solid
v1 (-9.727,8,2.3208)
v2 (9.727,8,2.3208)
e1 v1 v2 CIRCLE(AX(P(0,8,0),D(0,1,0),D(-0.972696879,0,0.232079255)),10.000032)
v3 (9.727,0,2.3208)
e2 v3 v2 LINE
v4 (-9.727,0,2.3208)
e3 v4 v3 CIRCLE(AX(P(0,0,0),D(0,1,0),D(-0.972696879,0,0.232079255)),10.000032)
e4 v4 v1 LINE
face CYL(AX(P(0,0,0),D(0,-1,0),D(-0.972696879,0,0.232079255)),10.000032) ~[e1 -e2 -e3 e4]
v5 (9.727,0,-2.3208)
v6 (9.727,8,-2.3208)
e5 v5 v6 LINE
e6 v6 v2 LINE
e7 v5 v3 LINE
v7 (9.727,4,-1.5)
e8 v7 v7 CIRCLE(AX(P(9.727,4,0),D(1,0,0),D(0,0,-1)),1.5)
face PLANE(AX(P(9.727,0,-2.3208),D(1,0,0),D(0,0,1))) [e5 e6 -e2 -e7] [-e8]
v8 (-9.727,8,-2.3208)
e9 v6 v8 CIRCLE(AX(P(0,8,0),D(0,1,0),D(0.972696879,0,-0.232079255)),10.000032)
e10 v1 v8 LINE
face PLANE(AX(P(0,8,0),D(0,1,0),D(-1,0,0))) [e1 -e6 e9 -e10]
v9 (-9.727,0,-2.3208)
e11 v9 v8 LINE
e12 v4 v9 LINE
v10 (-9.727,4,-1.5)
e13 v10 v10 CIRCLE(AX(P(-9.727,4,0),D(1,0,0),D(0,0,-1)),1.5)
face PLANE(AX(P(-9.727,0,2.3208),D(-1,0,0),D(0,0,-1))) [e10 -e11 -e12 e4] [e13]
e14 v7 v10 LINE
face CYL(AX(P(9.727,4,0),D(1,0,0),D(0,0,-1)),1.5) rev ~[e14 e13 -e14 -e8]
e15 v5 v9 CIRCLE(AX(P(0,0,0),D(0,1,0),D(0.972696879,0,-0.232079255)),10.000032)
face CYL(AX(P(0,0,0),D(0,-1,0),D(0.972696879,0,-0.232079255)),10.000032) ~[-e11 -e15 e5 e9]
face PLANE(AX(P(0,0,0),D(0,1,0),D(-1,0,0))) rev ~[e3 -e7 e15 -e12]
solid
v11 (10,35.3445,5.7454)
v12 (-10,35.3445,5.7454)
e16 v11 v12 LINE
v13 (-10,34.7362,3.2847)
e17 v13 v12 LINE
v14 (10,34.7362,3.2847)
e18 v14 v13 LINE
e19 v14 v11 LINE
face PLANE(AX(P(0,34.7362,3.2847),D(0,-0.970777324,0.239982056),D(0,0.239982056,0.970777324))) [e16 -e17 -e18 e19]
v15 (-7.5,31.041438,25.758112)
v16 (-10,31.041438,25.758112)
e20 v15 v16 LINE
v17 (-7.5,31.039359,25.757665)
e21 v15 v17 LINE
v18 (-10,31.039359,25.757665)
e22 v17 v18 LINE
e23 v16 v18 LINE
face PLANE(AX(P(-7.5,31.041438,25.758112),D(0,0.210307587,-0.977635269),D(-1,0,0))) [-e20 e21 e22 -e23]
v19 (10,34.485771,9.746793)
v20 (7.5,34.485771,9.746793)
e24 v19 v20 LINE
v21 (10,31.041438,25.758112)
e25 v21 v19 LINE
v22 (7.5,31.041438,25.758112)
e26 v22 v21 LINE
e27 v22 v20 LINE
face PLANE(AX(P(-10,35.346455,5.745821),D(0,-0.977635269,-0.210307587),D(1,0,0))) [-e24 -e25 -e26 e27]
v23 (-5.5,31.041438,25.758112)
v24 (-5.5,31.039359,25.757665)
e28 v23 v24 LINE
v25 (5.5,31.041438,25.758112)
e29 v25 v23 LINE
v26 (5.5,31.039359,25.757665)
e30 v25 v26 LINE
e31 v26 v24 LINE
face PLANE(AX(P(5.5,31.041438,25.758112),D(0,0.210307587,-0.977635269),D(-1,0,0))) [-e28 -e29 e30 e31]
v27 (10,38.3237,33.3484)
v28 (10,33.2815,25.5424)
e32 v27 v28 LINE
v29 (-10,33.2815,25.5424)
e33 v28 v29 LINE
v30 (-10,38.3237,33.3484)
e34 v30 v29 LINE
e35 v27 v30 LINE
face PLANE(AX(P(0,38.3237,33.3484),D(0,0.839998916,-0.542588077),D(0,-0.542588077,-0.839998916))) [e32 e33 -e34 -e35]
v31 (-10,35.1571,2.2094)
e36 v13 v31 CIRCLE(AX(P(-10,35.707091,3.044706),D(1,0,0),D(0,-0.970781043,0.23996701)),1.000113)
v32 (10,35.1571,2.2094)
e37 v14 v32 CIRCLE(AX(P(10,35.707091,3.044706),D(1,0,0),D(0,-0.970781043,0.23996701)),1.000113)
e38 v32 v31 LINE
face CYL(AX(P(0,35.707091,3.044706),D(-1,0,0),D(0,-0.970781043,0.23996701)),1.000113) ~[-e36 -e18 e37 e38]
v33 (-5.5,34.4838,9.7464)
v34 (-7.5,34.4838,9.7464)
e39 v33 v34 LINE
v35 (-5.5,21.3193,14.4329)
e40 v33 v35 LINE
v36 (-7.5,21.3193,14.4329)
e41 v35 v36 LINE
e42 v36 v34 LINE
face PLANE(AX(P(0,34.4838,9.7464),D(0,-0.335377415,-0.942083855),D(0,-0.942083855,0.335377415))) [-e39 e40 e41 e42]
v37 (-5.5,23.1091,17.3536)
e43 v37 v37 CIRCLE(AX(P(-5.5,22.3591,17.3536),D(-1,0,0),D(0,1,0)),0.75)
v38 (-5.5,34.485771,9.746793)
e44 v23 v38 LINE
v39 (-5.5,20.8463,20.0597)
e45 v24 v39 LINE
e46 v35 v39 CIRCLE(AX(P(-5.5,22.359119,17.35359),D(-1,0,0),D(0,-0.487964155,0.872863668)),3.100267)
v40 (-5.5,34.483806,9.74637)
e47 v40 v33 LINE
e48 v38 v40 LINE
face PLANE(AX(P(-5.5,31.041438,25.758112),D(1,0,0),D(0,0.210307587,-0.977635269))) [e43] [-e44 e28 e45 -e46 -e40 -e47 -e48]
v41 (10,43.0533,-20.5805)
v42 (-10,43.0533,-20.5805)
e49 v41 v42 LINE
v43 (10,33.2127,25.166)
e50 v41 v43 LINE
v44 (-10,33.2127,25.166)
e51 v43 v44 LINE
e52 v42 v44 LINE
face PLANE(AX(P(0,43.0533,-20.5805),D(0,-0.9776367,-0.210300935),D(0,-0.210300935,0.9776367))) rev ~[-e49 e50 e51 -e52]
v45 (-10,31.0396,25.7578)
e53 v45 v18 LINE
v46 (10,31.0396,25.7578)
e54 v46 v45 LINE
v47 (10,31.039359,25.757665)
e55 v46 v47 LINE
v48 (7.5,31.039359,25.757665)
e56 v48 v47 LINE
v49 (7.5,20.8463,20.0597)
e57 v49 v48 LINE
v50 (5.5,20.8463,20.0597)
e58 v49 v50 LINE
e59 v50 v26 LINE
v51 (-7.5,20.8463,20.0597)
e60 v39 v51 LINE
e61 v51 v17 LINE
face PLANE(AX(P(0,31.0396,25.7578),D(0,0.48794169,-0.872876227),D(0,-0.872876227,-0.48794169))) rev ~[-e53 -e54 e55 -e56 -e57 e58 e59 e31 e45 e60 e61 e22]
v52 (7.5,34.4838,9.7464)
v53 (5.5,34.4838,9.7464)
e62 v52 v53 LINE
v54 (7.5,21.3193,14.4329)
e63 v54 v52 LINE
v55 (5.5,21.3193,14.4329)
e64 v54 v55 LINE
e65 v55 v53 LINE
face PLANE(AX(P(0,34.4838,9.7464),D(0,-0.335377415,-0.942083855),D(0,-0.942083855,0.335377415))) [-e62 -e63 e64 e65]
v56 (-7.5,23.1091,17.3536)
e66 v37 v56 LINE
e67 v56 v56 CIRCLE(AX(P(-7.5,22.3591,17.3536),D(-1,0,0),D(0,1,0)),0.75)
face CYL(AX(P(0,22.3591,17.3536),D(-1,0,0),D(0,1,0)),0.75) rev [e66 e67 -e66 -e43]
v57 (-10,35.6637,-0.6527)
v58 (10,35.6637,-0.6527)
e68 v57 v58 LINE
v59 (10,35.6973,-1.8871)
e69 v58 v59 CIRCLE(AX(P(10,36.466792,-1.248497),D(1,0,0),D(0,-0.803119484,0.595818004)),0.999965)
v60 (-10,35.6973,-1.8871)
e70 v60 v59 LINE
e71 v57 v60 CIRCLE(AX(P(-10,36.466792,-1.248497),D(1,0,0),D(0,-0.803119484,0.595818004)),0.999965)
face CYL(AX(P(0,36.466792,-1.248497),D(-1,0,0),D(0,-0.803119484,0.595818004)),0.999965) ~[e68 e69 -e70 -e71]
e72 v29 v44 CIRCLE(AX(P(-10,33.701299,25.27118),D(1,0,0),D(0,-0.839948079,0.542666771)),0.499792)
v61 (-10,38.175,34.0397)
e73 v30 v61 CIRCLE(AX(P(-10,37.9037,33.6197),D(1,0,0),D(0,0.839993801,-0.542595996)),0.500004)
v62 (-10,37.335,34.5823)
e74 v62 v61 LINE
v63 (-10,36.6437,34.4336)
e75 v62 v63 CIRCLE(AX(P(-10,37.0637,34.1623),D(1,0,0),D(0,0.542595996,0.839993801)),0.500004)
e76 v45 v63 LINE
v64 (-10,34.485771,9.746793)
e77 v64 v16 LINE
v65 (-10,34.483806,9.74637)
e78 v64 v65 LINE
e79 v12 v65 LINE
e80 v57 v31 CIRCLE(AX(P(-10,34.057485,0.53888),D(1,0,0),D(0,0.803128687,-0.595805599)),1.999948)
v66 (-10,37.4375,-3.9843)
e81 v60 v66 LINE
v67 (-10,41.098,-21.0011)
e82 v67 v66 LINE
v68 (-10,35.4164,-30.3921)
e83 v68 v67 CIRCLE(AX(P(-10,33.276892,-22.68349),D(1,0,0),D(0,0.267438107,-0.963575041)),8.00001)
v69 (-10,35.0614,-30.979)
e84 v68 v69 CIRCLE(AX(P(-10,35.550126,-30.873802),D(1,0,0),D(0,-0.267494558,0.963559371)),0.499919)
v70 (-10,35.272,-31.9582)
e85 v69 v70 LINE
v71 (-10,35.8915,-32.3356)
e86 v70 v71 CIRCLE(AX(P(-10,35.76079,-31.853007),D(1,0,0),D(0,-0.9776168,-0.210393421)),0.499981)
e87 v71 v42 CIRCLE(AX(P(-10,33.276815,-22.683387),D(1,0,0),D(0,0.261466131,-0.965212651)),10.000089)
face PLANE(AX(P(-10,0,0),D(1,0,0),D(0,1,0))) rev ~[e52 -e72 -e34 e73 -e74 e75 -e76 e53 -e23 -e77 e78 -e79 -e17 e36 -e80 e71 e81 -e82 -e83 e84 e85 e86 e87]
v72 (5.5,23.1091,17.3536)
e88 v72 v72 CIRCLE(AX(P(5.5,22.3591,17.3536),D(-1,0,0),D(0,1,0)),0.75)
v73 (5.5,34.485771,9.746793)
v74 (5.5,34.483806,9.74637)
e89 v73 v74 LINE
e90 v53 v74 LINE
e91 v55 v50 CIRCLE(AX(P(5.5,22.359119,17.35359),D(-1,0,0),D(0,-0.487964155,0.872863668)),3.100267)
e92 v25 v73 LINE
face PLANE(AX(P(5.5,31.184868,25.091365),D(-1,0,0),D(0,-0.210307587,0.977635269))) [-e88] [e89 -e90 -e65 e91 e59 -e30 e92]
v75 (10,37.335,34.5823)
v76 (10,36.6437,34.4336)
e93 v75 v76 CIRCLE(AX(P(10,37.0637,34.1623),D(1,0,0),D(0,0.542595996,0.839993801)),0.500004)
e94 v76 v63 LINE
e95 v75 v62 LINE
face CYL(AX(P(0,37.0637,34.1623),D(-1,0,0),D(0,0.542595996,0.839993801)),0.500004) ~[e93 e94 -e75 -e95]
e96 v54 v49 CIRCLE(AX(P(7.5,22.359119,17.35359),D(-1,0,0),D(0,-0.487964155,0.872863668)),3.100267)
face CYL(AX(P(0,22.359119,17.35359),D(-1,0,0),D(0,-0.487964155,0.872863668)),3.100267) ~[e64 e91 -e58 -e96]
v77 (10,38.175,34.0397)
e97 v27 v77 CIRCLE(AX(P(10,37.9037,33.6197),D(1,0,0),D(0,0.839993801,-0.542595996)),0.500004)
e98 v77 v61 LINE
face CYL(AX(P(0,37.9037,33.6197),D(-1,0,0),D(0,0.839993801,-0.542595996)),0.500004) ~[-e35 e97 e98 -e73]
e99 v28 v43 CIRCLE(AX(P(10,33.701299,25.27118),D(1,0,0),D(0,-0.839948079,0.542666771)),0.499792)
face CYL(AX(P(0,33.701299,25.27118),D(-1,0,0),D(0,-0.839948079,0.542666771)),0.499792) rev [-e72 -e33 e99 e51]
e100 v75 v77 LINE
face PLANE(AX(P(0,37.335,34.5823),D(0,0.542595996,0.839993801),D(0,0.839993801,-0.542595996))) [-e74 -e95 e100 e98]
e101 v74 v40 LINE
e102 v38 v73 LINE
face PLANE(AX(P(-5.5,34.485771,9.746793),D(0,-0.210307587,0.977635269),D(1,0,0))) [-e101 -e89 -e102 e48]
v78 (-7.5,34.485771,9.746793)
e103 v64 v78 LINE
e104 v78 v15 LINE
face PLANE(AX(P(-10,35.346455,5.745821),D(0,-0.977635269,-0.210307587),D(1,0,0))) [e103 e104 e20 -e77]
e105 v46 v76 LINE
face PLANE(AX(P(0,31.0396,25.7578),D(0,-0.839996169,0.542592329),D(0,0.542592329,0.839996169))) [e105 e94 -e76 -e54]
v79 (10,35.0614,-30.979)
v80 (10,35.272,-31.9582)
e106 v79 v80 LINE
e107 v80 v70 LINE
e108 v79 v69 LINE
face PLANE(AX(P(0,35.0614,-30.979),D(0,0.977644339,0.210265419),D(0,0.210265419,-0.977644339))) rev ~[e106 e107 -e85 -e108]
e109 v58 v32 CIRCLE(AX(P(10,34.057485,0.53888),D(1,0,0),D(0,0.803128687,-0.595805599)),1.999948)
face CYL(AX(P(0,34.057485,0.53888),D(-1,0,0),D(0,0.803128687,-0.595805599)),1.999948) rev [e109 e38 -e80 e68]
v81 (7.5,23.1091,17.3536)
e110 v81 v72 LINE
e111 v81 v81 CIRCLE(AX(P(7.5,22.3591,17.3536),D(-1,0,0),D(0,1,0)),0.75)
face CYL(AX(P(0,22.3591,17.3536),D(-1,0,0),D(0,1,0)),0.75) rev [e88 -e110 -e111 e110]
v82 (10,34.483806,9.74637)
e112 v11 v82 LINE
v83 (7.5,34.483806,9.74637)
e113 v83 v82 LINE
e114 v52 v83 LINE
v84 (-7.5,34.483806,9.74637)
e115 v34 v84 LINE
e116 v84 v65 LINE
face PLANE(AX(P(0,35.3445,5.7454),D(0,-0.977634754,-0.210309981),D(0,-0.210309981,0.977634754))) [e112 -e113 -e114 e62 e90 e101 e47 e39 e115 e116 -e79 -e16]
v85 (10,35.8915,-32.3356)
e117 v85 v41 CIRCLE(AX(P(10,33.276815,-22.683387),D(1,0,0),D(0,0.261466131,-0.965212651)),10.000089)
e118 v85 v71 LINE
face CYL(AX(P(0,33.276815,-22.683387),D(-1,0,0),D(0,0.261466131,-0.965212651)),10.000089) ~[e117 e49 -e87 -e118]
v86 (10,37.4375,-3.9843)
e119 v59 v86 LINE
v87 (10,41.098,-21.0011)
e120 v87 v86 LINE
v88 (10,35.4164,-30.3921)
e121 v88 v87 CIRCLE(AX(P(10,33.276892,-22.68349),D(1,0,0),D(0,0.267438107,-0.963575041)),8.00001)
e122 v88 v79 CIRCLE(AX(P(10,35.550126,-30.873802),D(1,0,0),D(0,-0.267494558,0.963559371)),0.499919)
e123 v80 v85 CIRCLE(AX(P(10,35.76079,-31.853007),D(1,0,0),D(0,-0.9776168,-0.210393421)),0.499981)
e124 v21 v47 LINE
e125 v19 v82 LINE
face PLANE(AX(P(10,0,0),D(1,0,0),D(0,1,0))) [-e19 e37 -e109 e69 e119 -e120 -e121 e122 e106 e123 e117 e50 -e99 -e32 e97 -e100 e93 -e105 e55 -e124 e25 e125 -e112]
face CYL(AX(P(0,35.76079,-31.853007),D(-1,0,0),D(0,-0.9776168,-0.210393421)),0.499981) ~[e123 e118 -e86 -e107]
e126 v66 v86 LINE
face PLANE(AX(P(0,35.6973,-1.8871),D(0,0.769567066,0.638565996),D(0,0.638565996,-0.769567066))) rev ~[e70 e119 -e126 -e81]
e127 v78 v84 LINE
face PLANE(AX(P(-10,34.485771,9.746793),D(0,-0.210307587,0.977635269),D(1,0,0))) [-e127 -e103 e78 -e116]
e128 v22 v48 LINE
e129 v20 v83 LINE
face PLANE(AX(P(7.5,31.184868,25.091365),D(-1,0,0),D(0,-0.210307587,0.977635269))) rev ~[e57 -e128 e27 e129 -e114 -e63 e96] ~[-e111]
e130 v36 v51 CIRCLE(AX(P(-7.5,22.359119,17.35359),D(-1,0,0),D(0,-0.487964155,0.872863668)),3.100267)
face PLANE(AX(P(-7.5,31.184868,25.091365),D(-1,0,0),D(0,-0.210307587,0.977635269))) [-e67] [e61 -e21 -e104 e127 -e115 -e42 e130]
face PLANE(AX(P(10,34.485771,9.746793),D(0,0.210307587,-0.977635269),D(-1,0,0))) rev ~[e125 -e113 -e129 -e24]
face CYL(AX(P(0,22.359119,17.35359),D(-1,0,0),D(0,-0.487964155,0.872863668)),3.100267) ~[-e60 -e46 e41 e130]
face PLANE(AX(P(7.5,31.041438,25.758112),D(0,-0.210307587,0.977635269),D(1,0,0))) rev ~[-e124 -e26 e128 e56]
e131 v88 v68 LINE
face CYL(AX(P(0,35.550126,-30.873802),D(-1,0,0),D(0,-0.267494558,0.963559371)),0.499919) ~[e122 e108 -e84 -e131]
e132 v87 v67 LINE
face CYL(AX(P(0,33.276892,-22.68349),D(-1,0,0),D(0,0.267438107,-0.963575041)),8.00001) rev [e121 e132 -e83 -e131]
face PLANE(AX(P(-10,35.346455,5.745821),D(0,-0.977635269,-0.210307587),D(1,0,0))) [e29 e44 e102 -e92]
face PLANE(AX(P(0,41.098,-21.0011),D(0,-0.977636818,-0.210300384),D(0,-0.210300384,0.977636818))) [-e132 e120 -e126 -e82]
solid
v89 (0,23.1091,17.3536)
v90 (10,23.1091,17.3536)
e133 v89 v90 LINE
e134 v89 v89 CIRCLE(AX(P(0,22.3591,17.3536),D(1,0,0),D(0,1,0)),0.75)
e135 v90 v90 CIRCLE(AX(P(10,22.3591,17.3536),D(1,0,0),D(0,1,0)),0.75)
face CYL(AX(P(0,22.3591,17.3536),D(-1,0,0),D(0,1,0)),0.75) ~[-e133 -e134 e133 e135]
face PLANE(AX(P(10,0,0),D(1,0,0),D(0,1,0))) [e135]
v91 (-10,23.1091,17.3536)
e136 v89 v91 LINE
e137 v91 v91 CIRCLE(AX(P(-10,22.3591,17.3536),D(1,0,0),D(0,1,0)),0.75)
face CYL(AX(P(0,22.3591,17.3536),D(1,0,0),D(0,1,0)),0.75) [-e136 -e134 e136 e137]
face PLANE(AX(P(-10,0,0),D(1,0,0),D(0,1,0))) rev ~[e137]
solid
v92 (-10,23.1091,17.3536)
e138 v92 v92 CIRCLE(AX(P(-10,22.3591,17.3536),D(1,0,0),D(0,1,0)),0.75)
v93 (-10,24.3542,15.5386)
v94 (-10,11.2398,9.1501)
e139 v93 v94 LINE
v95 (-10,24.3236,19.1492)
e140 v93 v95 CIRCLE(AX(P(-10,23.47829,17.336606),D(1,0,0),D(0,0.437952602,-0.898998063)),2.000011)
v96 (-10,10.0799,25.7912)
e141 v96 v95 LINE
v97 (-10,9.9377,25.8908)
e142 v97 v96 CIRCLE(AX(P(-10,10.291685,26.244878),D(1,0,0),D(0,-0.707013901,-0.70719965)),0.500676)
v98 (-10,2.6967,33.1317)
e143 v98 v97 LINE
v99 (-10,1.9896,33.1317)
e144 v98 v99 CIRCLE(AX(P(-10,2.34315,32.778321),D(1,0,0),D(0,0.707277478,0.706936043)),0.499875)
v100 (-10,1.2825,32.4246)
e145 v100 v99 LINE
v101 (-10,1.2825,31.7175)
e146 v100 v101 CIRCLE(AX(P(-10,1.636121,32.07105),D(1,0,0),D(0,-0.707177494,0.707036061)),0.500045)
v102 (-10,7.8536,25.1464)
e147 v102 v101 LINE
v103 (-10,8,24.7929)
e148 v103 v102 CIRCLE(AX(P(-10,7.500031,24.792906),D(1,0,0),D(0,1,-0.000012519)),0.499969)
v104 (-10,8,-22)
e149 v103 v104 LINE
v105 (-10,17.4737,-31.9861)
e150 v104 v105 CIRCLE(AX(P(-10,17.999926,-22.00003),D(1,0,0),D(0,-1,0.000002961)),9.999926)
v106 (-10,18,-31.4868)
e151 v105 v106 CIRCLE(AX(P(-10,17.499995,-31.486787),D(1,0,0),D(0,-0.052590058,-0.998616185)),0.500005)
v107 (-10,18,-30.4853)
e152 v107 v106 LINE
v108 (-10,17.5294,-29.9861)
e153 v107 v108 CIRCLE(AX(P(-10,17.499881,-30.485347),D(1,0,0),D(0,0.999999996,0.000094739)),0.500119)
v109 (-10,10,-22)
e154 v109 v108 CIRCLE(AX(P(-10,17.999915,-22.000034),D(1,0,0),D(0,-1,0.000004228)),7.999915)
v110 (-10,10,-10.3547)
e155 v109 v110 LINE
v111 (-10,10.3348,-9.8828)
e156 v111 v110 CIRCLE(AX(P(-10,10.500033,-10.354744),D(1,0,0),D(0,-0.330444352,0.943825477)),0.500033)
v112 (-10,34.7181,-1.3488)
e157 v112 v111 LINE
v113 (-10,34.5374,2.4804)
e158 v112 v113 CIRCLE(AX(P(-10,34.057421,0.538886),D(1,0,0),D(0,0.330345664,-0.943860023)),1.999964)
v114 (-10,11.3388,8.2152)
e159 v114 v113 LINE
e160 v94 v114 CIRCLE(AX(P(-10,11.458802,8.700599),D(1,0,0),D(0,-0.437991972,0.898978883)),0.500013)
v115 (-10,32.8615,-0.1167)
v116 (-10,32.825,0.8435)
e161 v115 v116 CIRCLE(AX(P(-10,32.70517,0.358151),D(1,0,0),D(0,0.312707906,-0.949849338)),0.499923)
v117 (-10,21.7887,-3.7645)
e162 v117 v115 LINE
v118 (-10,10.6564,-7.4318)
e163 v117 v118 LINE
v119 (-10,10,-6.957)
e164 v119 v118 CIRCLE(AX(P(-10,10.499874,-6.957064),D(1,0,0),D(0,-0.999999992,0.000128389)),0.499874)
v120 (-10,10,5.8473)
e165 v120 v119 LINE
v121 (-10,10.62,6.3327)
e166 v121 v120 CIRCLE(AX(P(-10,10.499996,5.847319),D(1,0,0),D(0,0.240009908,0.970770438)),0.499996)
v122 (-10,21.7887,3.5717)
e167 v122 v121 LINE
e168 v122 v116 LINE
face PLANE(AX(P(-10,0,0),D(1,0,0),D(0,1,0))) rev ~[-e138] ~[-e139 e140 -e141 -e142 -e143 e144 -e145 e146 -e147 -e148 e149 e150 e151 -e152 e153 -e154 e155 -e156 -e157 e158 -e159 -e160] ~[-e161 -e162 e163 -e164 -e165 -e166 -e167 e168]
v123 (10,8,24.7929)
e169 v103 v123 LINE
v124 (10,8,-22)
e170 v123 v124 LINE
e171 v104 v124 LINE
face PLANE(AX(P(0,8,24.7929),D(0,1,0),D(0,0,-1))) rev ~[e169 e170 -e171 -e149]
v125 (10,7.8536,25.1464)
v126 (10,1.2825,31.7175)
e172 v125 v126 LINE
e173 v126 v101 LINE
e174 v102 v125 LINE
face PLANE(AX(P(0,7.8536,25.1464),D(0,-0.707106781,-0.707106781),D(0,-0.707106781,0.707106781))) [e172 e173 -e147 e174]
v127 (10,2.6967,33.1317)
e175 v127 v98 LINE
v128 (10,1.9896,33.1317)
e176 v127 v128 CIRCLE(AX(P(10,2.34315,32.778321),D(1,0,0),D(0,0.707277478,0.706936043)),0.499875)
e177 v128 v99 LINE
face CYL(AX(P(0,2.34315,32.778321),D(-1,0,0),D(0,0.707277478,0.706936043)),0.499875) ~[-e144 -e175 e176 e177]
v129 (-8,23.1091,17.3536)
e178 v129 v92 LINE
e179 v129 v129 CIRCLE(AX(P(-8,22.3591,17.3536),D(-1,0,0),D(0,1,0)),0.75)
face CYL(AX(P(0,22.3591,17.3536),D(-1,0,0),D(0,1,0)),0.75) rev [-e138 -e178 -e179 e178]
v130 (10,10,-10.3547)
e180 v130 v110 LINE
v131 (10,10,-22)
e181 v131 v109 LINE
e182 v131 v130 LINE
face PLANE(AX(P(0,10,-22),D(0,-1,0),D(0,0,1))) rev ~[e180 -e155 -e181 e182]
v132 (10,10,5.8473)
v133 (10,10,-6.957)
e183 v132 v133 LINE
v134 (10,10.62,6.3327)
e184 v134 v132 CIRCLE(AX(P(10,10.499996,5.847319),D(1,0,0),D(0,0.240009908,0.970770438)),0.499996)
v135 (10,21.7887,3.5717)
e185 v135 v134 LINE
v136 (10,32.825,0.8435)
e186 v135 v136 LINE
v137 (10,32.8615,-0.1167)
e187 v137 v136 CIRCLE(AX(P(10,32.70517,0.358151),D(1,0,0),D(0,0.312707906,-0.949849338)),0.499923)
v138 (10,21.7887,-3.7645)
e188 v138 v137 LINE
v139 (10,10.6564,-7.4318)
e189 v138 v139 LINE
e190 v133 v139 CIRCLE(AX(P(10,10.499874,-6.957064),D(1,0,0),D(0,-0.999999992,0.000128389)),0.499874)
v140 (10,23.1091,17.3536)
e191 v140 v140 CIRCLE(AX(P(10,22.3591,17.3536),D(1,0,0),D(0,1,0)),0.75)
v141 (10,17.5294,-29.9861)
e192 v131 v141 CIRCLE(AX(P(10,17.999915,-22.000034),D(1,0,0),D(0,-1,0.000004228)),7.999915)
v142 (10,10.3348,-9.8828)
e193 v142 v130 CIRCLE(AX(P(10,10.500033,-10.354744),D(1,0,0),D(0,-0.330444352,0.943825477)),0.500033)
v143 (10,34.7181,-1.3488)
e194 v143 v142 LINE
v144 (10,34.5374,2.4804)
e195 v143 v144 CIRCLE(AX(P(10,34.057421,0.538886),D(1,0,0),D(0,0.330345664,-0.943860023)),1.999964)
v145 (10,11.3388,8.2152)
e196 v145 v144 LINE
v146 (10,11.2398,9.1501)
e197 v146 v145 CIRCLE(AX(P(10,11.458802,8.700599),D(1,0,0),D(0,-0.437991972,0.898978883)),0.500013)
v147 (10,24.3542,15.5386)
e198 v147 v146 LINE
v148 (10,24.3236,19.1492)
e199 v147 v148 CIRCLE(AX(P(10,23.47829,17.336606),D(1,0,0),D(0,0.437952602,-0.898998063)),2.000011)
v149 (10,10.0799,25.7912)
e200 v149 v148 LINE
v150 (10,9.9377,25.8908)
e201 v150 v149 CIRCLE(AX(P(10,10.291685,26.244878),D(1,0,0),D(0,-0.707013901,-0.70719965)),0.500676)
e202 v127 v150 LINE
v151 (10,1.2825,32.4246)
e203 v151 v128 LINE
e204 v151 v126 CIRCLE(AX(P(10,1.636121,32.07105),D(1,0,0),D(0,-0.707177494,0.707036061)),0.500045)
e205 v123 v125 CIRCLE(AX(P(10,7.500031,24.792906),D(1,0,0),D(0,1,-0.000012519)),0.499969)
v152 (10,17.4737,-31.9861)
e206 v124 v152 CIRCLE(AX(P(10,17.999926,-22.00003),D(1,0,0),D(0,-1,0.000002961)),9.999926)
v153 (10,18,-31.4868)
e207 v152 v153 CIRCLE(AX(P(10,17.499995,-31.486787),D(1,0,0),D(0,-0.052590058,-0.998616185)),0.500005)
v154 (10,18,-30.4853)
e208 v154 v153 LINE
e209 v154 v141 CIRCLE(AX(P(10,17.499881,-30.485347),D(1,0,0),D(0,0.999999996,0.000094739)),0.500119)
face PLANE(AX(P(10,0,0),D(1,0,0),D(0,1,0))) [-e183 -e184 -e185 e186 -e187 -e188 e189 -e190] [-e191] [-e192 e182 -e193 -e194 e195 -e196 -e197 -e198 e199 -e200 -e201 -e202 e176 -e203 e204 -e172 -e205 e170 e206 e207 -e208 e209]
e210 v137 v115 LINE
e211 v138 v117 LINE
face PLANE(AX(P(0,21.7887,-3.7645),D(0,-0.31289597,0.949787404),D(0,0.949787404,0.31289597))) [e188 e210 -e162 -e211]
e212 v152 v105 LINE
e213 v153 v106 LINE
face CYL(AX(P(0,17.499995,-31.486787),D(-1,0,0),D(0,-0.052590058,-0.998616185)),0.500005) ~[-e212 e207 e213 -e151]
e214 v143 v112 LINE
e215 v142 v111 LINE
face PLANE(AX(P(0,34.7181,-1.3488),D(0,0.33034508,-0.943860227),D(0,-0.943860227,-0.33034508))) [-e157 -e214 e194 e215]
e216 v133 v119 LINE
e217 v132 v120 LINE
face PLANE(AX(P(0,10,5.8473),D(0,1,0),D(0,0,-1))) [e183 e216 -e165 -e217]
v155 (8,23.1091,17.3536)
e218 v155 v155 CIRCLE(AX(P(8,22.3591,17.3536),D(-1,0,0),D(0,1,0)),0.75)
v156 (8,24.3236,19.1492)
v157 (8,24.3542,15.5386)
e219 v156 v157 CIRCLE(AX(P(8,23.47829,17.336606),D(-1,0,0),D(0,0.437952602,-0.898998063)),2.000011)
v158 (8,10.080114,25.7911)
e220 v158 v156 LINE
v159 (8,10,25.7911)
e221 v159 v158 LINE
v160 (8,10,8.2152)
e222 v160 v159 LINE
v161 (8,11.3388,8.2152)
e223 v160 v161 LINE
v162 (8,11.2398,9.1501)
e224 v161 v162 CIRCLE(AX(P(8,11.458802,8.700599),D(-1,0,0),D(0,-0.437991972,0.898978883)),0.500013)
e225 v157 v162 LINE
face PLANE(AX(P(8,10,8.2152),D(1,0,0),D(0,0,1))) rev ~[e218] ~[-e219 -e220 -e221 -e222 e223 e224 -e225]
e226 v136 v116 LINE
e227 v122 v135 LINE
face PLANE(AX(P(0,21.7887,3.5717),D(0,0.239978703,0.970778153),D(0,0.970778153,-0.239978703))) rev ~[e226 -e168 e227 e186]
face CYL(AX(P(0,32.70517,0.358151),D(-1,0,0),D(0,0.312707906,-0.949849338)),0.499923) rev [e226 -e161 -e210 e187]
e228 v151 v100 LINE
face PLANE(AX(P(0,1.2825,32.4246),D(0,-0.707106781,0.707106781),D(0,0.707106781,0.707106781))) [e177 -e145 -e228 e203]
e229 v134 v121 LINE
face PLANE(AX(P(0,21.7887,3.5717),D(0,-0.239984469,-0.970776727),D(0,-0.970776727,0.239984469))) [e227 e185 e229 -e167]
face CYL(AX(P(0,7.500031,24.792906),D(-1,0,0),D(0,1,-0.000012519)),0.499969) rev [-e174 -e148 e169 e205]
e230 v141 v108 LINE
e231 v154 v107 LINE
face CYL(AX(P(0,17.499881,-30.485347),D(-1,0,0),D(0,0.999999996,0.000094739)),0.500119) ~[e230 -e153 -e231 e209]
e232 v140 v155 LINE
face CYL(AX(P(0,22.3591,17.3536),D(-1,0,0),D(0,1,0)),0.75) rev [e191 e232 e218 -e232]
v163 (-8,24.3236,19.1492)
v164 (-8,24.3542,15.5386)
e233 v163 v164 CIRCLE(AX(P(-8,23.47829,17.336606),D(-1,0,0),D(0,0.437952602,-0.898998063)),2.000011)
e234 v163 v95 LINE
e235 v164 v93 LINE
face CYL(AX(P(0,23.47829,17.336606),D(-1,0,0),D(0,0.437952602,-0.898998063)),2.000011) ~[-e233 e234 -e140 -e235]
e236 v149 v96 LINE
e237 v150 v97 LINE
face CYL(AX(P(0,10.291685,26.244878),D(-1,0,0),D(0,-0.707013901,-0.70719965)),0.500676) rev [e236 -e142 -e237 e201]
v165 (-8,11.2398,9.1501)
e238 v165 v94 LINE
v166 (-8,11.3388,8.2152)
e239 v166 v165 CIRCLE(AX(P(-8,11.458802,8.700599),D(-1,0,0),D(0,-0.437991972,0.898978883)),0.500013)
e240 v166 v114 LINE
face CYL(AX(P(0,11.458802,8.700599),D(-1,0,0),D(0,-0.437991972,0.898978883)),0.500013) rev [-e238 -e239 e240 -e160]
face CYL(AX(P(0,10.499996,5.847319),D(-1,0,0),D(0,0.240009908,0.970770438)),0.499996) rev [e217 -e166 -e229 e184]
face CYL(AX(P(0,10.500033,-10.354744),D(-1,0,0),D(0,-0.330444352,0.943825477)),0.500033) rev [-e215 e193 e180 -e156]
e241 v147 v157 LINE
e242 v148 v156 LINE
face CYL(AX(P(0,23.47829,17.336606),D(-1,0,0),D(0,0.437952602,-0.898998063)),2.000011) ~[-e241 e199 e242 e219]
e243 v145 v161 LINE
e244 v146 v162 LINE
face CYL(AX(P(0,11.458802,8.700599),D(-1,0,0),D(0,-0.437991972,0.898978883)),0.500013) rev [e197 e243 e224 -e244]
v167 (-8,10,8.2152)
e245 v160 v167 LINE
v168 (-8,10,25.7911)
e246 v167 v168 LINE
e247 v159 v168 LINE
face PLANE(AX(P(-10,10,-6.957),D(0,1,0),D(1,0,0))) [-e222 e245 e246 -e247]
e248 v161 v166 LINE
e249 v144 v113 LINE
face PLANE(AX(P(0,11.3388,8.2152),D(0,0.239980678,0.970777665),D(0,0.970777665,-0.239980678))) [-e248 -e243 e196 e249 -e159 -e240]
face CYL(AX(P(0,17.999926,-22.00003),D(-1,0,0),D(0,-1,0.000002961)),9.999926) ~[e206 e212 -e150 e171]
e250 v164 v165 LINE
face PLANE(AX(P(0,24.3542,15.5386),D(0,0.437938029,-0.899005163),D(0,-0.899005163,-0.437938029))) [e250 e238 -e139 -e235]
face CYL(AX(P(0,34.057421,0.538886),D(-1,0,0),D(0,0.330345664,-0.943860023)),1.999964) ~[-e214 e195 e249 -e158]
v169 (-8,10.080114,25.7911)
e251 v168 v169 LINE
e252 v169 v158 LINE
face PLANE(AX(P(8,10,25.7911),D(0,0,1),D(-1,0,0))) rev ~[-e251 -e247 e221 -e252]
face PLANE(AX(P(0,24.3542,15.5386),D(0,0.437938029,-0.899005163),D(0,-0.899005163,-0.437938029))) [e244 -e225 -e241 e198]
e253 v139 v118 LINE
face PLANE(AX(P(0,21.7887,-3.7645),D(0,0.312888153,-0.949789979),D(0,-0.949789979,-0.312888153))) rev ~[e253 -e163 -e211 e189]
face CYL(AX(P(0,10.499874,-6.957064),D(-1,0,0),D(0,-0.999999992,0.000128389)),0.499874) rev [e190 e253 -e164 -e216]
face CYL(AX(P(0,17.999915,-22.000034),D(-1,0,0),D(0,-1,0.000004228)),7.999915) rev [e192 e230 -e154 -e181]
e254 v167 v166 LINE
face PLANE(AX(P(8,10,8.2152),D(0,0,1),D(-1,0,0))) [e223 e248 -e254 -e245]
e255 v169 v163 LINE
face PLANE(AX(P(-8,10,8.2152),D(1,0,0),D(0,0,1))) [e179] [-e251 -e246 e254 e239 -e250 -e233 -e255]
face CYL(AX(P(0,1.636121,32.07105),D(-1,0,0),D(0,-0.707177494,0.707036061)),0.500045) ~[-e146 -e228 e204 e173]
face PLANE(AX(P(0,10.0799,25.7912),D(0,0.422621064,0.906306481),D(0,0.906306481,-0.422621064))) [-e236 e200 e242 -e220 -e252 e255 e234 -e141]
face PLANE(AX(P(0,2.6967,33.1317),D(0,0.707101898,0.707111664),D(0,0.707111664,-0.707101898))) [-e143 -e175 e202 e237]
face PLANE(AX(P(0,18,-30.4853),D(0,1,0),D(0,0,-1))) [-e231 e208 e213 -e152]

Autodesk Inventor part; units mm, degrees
ref_plane "YZ Plane" through (0, 0, 0) normal (1, 0, 0) x (0, 1, 0)
ref_plane "XZ Plane" through (0, 0, 0) normal (0, 1, 0) x (-1, 0, 0)
ref_plane "XY Plane" through (0, 0, 0) normal (0, 0, 1) x (1, 0, 0)
sketch "Эскиз1" plane through (0, 0, 0) normal (1, 0, 0) x (0, 0, -1)
  line L0 (-5.1487, -13.4444) -> (-9.7487, -13.4444)
  line L1 (-9.7487, -13.4444) -> (-9.7487, -18.4444)
  line L2 (-9.7487, -18.4444) -> (7.2513, -18.4444)
  line L3 (7.2513, -18.4444) -> (7.2513, -13.4444)
  line L4 (7.2513, -13.4444) -> (2.6513, -13.4444)
  line L5 (2.6513, -13.4444) -> (2.6513, -8.4651)
  line L6 (2.6513, -8.4651) -> (7.2513, -8.4651)
  line L7 (7.2513, -8.4651) -> (7.2513, 21.5556)
  line L8 (7.2513, 21.5556) -> (-9.7487, 21.5556)
  line L9 (-9.7487, 21.5556) -> (-9.7487, -8.4237)
  line L10 (-9.7487, -8.4237) -> (-5.1487, -8.4237)
  line L11 (-5.1487, -8.4237) -> (-5.1487, -13.4444)
  circle A0 centre (-1.2487, 17.5556) radius 1
  dimension "d13" = 0.5
sketch "Эскиз2" plane through (0, 0, 0) normal (0, 1, 0) x (-1, 0, 0)
  line L0 (-9.727, -2.3208) -> (-9.727, 2.3208)
  line L1 (9.727, 2.3208) -> (9.727, -2.3208)
  arc A0 (9.727, 2.3208) -> (-9.727, 2.3208) centre (0, 0) ccw
  arc A1 (-9.727, -2.3208) -> (9.727, -2.3208) centre (0, 0) ccw
extrude "Выдавливание2" add sketch "Эскиз2" along normal blind 8
sketch "Эскиз3" plane through (0, 0, 0) normal (1, 0, 0) x (0, 1, 0)
  line L0 (7.8536, 25.1464) -> (1.2825, 31.7175)
  line L1 (1.2825, 32.4246) -> (1.9896, 33.1317)
  line L2 (2.6967, 33.1317) -> (9.9377, 25.8908)
  arc A0 (8, -22) -> (17.4737, -31.9861) centre (18, -22) ccw
  line L3 (8, 24.7929) -> (8, -22)
  line L4 (10, -22) -> (10, -10.3547)
  arc A1 (10, -22) -> (17.5294, -29.9861) centre (18, -22) ccw
  line L5 (18, -30.4853) -> (18, -31.4868)
  line L6 (10.0799, 25.7912) -> (24.3236, 19.1492)
  line L7 (24.3542, 15.5386) -> (11.2398, 9.1501)
  arc A2 (24.3542, 15.5386) -> (24.3236, 19.1492) centre (23.4783, 17.3366) ccw
  line L8 (11.3388, 8.2152) -> (34.5374, 2.4804)
  line L9 (34.7181, -1.3488) -> (10.3348, -9.8828)
  arc A3 (34.7181, -1.3488) -> (34.5374, 2.4804) centre (34.0574, 0.5389) ccw
  line L10 (21.7887, 3.5717) -> (32.825, 0.8435)
  line L11 (21.7887, 3.5717) -> (10.62, 6.3327)
  line L12 (21.7887, -3.7645) -> (10.6564, -7.4318)
  line L13 (21.7887, -3.7645) -> (32.8615, -0.1167)
  line L14 (10, 5.8473) -> (10, -6.957)
  arc A4 (32.8615, -0.1167) -> (32.825, 0.8435) centre (32.7051, 0.3582) ccw
  circle A5 centre (22.3591, 17.3536) radius 0.75
  arc A6 (1.2825, 32.4246) -> (1.2825, 31.7175) centre (1.636, 32.0711) ccw
  arc A7 (2.6967, 33.1317) -> (1.9896, 33.1317) centre (2.3431, 32.7782) ccw
  arc A8 (8, 24.7929) -> (7.8536, 25.1464) centre (7.5, 24.7929) ccw
  arc A9 (9.9377, 25.8908) -> (10.0799, 25.7912) centre (10.2912, 26.2443) ccw
  arc A10 (11.2398, 9.1501) -> (11.3388, 8.2152) centre (11.4588, 8.7006) ccw
  arc A11 (10.62, 6.3327) -> (10, 5.8473) centre (10.5, 5.8473) ccw
  arc A12 (10, -6.957) -> (10.6564, -7.4318) centre (10.5, -6.957) ccw
  arc A13 (10.3348, -9.8828) -> (10, -10.3547) centre (10.5, -10.3547) ccw
  arc A14 (18, -30.4853) -> (17.5294, -29.9861) centre (17.5, -30.4853) ccw
  arc A15 (17.4737, -31.9861) -> (18, -31.4868) centre (17.5, -31.4868) ccw
  point P0 (0, 0)
  point P1 (18, -32)
  point P2 (18, -30)
  dimension "d13" = 0.5
extrude "Выдавливание3" add sketch "Эскиз3" along normal mid plane 20 separate body
sketch "Эскиз4" plane through (-10, 10, -6.957) normal (0, 1, 0) x (1, 0, 0)
  line L0 (18, -32.7481) -> (2, -32.7481)
  line L1 (2, -15.1722) -> (2, -32.7481)
  line L2 (18, -15.1722) -> (18, -32.7481)
  line L3 (18, -15.1722) -> (2, -15.1722)
  point P0 (10, -6.957)
extrude "Выдавливание4" cut sketch "Эскиз4" along normal blind 20 bodies 1 2
sketch "Эскиз5" plane through (0, 0, 0) normal (1, 0, 0) x (0, 1, 0)
  arc A0 (35.6637, -0.6527) -> (35.1571, 2.2094) centre (34.0574, 0.5389) ccw
  arc A1 (35.4164, -30.3921) -> (41.098, -21.0011) centre (33.2769, -22.6835) ccw
  arc A2 (35.4164, -30.3921) -> (35.0614, -30.979) centre (35.5502, -30.8739) ccw
  line L0 (35.0614, -30.979) -> (35.272, -31.9582)
  arc A3 (35.272, -31.9582) -> (35.8915, -32.3356) centre (35.7608, -31.853) ccw
  arc A4 (35.8915, -32.3356) -> (43.0533, -20.5805) centre (33.2769, -22.6835) ccw
  arc A5 (33.2815, 25.5424) -> (33.2127, 25.166) centre (33.7015, 25.2711) ccw
  line L1 (38.3237, 33.3484) -> (33.2815, 25.5424)
  arc A6 (38.3237, 33.3484) -> (38.175, 34.0397) centre (37.9037, 33.6197) ccw
  line L2 (37.335, 34.5823) -> (38.175, 34.0397)
  arc A7 (37.335, 34.5823) -> (36.6437, 34.4336) centre (37.0637, 34.1623) ccw
  line L3 (31.0396, 25.7578) -> (36.6437, 34.4336)
  line L4 (43.0533, -20.5805) -> (33.2127, 25.166)
  arc A8 (20.8463, 20.0597) -> (21.3193, 14.4329) centre (22.3591, 17.3536) ccw
  line L5 (34.4838, 9.7464) -> (21.3193, 14.4329)
  line L6 (31.0396, 25.7578) -> (20.8463, 20.0597)
  line L7 (35.6973, -1.8871) -> (37.4375, -3.9843)
  line L8 (34.7362, 3.2847) -> (35.3445, 5.7454)
  line L9 (41.098, -21.0011) -> (37.4375, -3.9843)
  line L10 (35.3445, 5.7454) -> (34.4838, 9.7464)
  arc A9 (35.6637, -0.6527) -> (35.6973, -1.8871) centre (36.4668, -1.2485) ccw
  arc A10 (34.7362, 3.2847) -> (35.1571, 2.2094) centre (35.707, 3.0447) ccw
  circle A11 centre (22.3591, 17.3536) radius 0.75
extrude "Выдавливание5" add sketch "Эскиз5" along normal mid plane 20 separate body
sketch "Эскиз6" plane through (-10, 35.3445, 5.7454) normal (0, -0.9776, -0.2103) x (1, 0, 0)
  line L0 (10, 1.8161) -> (10, 24.3613) construction
  line L1 (2.5, 20.4701) -> (0, 20.4701)
  line L2 (0, 4.0925) -> (2.5, 4.0925)
  line L3 (2.5, 4.0925) -> (2.5, 20.4701)
  line L4 (17.5, 20.4701) -> (20, 20.4701)
  line L5 (20, 4.0925) -> (17.5, 4.0925)
  line L6 (17.5, 4.0925) -> (17.5, 20.4701)
  line L7 (0, 20.4701) -> (0, 4.0925)
  line L8 (20, 4.0925) -> (20, 20.4701)
  line L9 (0, 19.7881) -> (20, 19.7881) projected
  line L10 (15.5, 20.4701) -> (4.5, 20.4701)
  line L11 (4.5, 20.4701) -> (4.5, 4.0925)
  line L12 (4.5, 4.0925) -> (15.5, 4.0925)
  line L13 (15.5, 4.0925) -> (15.5, 20.4701)
extrude "Выдавливание6" cut sketch "Эскиз6" along normal blind 20 bodies 3
sketch "Эскиз7" plane through (0, 0, 0) normal (1, 0, 0) x (0, 1, 0)
  circle A0 centre (22.3591, 17.3536) radius 0.75 projected
  point P0 (0, 0)
extrude "Выдавливание7" add sketch "Эскиз7" along normal mid plane 20 separate body
sketch "Эскиз8" plane through (9.727, 0, 2.3208) normal (1, 0, 0) x (0, 0, -1)
  circle A0 centre (2.3208, 4) radius 1.5
extrude "Выдавливание8" cut sketch "Эскиз8" against normal blind 20 bodies 1
properties part number "В. шарн. - держатель смартфона"
